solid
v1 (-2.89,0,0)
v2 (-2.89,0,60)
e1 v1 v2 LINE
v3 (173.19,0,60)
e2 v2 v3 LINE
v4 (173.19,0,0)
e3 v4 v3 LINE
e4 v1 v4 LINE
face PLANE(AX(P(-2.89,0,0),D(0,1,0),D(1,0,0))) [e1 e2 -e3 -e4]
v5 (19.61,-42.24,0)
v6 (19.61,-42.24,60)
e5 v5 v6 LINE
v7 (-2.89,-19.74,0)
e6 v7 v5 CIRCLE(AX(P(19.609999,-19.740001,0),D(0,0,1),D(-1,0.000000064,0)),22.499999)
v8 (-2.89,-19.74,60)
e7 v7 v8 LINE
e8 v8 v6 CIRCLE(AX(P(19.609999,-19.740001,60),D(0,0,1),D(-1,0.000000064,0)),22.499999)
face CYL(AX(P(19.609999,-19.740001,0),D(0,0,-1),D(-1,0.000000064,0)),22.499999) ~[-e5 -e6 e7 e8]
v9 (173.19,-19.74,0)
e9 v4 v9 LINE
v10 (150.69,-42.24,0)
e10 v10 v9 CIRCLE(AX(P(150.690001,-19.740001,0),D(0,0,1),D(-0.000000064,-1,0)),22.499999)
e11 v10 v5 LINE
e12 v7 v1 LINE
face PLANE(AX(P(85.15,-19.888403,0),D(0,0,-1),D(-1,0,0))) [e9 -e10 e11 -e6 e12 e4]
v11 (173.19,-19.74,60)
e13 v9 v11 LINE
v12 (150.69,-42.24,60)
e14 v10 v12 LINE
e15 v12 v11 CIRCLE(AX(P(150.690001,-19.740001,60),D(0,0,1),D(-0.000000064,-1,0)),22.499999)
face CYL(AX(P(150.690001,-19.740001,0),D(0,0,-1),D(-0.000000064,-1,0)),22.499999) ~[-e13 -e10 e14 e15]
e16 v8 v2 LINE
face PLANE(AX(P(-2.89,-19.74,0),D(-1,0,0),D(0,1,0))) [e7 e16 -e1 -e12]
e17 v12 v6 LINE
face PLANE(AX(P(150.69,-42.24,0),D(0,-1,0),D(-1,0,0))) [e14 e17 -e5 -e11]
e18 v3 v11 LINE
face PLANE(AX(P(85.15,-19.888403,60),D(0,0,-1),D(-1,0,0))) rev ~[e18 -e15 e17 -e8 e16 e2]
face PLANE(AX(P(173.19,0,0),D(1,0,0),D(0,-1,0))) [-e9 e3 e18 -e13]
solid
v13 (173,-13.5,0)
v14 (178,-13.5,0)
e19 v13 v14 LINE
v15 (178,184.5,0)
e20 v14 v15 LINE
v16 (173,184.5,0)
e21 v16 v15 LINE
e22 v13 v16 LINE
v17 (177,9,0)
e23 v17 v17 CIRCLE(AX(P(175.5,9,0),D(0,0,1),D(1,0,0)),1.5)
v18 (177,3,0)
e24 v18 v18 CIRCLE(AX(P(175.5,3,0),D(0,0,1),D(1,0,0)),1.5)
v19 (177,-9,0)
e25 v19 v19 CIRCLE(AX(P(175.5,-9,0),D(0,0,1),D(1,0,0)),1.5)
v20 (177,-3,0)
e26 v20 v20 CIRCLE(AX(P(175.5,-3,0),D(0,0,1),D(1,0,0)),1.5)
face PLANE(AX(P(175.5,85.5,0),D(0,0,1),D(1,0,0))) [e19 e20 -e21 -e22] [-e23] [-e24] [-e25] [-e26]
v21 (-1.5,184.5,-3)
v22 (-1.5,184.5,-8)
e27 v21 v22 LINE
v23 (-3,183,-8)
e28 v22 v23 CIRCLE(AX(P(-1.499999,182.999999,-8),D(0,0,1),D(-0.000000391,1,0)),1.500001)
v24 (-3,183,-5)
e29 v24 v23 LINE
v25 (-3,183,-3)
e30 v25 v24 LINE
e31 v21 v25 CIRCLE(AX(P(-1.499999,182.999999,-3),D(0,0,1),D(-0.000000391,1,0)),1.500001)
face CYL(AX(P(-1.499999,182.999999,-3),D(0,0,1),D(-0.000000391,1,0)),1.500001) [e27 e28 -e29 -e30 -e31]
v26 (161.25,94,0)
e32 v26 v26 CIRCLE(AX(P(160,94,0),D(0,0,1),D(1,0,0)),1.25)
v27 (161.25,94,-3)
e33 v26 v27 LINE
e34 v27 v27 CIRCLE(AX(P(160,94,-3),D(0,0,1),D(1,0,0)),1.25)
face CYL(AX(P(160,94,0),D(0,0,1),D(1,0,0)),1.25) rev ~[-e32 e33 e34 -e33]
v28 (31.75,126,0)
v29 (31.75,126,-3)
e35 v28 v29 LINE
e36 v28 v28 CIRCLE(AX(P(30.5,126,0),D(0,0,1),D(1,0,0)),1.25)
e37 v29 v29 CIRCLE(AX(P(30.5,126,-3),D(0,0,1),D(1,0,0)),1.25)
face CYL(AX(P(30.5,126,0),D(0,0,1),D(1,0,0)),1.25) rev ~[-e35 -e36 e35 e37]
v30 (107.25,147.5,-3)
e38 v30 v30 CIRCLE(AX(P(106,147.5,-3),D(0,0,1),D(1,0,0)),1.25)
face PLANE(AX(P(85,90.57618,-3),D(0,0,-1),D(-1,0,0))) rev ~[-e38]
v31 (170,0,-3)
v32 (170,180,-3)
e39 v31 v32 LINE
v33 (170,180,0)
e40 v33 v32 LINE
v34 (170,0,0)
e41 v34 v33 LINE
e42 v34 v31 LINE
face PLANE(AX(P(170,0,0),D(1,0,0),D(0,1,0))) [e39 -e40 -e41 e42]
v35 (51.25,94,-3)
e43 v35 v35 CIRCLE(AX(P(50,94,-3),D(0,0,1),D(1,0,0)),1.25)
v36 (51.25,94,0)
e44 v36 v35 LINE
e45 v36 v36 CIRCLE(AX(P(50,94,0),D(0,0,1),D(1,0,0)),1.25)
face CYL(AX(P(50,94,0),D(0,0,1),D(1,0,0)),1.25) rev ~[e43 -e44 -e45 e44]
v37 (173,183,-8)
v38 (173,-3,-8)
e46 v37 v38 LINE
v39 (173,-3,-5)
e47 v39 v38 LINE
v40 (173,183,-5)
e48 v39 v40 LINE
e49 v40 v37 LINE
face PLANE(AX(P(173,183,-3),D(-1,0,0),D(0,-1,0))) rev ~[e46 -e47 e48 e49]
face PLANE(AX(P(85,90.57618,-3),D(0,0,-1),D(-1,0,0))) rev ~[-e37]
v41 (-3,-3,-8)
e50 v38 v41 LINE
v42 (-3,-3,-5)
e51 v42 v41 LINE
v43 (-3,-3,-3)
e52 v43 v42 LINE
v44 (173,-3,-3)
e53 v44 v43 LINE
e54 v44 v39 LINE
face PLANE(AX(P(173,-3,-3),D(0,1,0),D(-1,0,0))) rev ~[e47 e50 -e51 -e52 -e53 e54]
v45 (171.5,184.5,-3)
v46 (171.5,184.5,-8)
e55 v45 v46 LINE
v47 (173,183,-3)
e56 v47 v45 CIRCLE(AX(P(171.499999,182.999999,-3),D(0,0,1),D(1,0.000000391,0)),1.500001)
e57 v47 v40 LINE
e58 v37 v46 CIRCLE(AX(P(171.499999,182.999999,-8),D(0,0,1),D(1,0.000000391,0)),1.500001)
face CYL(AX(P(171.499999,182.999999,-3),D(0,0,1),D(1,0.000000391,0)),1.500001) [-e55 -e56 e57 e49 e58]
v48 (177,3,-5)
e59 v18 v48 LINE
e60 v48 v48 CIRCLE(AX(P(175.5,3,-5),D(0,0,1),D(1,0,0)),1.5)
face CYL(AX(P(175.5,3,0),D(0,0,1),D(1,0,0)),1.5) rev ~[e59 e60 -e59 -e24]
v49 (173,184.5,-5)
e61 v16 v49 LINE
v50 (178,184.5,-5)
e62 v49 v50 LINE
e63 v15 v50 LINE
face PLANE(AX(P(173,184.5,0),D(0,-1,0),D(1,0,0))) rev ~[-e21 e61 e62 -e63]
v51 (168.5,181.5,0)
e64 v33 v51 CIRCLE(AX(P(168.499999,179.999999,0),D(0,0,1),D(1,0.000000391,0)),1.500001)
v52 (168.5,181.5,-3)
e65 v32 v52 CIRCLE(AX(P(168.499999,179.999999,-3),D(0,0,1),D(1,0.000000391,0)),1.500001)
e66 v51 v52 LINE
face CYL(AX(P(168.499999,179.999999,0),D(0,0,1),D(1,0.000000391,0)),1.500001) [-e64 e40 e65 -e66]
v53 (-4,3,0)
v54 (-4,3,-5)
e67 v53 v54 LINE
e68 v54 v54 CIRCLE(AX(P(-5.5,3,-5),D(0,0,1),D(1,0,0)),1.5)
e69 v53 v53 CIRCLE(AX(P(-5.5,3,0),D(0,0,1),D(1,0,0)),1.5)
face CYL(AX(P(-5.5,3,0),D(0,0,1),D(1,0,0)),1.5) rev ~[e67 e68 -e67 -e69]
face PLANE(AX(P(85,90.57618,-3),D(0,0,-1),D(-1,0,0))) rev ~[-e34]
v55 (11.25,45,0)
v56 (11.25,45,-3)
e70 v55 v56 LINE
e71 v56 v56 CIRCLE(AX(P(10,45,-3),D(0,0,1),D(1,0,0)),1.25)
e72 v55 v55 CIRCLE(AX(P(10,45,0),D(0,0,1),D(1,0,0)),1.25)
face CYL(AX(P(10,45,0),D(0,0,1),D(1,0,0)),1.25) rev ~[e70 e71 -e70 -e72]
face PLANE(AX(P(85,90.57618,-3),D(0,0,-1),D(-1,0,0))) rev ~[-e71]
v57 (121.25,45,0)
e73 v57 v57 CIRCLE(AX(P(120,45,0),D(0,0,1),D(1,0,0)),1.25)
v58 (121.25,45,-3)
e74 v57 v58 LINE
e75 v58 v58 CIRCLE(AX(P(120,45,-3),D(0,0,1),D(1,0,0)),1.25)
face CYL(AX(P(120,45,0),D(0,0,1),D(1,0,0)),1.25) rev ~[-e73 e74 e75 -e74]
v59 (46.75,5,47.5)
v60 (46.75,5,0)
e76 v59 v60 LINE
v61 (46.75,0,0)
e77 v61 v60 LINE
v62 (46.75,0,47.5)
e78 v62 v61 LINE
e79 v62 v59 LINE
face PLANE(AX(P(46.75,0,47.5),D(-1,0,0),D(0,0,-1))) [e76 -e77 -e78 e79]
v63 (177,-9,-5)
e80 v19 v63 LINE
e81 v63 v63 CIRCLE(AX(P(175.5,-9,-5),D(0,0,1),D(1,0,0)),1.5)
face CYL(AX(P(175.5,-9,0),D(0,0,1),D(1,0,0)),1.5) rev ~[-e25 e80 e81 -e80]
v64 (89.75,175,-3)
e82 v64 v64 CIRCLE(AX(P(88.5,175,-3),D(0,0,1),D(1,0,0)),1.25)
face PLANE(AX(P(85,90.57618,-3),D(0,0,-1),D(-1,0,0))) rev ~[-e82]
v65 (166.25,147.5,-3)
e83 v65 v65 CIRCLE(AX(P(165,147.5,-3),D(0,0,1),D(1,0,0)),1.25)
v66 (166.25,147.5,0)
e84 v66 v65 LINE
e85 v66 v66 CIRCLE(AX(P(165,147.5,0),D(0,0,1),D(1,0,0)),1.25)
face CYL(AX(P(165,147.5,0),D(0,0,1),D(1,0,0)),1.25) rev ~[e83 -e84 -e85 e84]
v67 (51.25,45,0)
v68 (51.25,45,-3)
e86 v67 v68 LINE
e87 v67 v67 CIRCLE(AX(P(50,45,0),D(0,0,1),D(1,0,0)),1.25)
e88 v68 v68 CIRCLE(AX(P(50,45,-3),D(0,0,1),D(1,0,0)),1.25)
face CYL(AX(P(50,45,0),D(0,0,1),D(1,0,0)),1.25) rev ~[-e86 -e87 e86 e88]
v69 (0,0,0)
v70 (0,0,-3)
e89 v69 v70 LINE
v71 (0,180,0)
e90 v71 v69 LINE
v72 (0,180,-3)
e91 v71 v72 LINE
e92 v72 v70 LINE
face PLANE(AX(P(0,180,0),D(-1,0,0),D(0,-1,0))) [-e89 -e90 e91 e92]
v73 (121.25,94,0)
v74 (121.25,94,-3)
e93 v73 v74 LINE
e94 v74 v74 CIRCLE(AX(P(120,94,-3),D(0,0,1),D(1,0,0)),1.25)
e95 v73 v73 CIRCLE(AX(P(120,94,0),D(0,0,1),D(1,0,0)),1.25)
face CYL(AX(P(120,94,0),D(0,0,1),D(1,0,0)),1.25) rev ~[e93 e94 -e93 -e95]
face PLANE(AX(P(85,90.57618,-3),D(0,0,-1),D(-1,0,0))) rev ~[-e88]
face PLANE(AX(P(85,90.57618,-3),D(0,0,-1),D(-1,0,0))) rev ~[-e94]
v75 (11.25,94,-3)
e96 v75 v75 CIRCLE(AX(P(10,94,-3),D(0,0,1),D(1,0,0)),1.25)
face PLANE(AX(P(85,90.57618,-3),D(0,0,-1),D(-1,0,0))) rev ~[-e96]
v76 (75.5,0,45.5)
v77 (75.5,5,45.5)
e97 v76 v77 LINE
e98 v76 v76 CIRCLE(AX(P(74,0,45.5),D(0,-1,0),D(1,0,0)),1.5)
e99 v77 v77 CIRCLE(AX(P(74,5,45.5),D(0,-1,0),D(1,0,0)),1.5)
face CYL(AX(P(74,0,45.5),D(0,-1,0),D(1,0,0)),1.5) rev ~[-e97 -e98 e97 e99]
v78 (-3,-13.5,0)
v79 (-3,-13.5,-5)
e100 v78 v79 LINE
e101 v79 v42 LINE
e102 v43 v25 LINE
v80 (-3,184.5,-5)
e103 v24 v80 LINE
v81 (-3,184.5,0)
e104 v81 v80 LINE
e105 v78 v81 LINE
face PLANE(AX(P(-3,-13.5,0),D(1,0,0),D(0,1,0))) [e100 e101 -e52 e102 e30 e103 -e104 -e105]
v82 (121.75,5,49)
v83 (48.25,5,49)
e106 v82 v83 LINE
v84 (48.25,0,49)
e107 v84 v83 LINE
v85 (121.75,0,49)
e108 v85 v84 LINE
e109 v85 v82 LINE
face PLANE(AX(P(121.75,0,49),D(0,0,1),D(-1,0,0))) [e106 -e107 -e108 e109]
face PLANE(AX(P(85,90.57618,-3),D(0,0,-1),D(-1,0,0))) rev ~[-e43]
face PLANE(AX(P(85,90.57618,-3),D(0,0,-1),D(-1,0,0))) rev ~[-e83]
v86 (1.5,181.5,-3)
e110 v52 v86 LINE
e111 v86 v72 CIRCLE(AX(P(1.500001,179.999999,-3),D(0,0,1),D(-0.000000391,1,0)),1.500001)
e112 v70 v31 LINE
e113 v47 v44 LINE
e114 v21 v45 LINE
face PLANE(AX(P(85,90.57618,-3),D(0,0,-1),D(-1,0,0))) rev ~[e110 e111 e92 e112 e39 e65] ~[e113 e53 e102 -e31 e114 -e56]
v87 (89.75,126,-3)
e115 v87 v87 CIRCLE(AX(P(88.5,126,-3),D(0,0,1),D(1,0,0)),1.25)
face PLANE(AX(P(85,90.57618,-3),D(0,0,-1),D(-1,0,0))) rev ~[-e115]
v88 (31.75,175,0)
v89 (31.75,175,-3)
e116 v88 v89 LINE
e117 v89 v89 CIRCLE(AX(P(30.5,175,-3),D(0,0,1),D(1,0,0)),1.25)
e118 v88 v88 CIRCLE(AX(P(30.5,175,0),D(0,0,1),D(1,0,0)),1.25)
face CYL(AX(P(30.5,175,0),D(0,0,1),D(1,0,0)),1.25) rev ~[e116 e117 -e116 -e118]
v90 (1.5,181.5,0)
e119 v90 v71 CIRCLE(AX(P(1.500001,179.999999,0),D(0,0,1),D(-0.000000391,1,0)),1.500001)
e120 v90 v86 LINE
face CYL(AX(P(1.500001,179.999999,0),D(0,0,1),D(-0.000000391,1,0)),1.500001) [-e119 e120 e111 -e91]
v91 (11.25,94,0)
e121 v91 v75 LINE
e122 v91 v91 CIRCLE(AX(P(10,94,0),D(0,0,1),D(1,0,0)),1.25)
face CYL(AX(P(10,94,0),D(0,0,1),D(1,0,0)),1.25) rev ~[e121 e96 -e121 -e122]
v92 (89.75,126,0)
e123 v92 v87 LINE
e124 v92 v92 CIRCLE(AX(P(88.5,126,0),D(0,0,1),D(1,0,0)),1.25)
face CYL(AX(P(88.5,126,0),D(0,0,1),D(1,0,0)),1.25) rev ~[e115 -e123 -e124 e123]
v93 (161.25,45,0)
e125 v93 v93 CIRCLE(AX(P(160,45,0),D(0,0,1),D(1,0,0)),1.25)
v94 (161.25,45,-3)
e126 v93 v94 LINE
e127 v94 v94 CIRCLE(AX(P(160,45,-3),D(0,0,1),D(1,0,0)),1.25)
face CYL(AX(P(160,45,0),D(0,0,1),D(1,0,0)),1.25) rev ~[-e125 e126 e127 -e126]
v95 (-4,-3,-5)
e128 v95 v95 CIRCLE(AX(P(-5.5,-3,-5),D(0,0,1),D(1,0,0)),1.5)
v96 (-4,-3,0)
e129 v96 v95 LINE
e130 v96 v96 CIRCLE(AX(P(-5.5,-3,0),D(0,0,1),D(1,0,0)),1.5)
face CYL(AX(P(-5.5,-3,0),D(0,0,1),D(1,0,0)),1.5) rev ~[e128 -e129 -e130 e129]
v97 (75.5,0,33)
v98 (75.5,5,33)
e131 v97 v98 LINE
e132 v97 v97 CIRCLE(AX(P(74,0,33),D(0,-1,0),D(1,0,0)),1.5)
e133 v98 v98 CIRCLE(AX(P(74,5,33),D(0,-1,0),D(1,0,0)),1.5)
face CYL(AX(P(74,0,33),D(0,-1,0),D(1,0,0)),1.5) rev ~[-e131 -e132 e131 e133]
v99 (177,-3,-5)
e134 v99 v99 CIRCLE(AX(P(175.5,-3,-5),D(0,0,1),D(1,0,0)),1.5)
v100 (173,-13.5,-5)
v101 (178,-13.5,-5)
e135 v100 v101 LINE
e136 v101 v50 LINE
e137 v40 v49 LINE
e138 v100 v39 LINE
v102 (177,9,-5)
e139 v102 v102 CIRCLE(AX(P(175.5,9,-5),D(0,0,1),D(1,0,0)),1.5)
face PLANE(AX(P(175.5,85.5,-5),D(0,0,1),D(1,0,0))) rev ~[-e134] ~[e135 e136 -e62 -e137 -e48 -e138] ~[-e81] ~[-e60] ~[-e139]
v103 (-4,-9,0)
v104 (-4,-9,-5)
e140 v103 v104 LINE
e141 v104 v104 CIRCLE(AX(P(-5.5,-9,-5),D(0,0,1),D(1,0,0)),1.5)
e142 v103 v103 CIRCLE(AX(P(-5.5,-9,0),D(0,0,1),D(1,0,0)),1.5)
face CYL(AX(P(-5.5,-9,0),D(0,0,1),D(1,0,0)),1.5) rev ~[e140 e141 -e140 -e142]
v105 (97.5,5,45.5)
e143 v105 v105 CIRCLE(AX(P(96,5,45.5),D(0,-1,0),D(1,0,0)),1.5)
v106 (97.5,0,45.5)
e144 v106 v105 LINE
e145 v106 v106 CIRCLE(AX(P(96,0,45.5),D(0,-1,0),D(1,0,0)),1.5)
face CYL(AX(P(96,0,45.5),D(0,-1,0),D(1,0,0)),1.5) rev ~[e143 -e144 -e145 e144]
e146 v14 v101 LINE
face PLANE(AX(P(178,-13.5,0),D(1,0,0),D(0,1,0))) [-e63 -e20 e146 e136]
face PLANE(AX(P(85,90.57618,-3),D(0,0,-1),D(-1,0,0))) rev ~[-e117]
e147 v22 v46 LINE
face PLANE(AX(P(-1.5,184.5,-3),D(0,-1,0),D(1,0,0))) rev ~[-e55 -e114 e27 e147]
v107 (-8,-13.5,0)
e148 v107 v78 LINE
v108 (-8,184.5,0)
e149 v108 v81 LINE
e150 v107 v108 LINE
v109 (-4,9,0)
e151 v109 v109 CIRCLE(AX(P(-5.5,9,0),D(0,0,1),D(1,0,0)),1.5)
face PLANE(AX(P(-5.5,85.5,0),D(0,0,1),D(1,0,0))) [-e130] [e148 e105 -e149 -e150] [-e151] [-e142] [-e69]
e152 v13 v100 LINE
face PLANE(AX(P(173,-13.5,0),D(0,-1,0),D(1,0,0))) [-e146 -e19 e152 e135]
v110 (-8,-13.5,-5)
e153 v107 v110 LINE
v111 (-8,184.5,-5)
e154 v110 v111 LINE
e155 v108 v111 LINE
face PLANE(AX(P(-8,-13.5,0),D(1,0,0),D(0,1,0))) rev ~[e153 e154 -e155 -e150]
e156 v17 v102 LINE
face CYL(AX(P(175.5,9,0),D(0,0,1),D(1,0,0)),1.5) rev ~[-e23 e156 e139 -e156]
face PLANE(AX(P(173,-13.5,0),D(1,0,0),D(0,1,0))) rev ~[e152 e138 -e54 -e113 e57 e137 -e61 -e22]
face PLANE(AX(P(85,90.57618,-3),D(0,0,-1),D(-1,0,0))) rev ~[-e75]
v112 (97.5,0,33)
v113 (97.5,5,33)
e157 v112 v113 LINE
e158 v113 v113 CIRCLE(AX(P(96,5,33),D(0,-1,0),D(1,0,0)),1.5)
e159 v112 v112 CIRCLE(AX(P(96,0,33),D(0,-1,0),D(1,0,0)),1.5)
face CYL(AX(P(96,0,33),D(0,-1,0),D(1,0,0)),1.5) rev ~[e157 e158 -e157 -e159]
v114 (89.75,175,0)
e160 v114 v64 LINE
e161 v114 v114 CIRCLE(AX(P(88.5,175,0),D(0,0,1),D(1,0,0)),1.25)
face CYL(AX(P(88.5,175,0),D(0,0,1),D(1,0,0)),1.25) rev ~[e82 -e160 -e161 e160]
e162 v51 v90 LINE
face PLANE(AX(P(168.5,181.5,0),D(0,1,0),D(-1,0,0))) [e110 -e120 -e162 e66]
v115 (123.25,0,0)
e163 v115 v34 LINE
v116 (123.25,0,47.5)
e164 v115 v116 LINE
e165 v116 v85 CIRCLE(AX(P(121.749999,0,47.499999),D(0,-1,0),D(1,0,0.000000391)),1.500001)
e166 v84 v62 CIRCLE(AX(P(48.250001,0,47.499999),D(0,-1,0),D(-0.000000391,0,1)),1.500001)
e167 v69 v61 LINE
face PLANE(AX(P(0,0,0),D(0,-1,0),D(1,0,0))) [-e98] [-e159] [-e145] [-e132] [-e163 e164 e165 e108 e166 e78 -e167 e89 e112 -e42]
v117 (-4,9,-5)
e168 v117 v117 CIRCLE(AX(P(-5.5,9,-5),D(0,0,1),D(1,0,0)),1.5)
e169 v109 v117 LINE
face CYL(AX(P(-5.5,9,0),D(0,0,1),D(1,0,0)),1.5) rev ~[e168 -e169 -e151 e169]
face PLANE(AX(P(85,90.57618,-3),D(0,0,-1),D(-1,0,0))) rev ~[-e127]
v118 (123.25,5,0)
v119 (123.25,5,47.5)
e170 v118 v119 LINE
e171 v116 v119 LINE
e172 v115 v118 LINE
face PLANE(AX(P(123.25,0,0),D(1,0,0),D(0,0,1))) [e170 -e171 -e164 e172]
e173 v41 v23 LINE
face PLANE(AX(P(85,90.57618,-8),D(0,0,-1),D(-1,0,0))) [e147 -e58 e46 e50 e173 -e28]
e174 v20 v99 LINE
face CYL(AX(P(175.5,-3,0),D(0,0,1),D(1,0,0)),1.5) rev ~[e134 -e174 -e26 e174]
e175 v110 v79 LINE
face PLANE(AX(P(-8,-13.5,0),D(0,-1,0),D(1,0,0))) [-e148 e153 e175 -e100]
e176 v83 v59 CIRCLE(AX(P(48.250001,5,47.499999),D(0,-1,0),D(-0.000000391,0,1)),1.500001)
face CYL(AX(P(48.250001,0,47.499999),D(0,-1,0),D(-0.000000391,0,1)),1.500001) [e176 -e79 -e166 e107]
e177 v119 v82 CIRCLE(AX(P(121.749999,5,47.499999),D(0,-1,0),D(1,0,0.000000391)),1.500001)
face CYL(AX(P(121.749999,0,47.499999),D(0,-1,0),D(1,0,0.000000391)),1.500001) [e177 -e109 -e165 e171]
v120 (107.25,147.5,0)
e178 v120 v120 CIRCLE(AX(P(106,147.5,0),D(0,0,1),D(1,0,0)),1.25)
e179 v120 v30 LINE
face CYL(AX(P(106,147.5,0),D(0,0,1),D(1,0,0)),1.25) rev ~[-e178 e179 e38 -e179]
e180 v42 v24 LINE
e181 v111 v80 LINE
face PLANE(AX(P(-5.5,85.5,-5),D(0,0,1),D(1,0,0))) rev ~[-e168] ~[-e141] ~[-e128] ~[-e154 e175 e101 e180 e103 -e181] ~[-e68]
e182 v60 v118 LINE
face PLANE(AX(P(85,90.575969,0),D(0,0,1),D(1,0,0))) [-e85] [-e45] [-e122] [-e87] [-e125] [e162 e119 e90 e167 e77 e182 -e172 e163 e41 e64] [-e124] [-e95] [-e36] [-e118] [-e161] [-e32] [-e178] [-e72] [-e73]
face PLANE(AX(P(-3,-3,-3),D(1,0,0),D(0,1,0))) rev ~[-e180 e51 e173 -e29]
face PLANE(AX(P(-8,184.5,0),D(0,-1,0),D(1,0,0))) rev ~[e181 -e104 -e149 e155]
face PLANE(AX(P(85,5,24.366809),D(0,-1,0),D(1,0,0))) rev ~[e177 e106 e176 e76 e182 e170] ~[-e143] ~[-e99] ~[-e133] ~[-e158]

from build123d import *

# Parameters (mm, degrees)
PAD_DEPTH     = 8
SKETCH001_R   = 1.25
HOLE_DEPTH    = 5
HOLE_TIPS_R   = 1.25
PAD001_DEPTH  = 5
SKETCH003_R   = 1.5
HOLE001_DEPTH = 181.501
PAD002_DEPTH  = 5
SKETCH005_W   = 5
SKETCH005_H   = 198
PAD003_DEPTH  = 5
SKETCH006_R   = 1.5
HOLE002_DEPTH = 8.001
PAD004_DEPTH  = 60


with BuildPart() as floor:
    # Sketch → Pad (new body)
    with BuildSketch(Plane.XY):
        with BuildLine():
            Line((0, 0), (170, 0))
            Line((170, 0), (170, 180))
            ThreePointArc((170, 180), (169.56066, 181.06066), (168.5, 181.5))
            Line((168.5, 181.5), (1.5, 181.5))
            ThreePointArc((1.5, 181.5), (0.43934, 181.06066), (0, 180))
            Line((0, 180), (0, 0))
        make_face()
    extrude(amount=-PAD_DEPTH)

    # Sketch001 → Hole (cut)
    with BuildSketch(Plane.XY):
        with Locations((30.5, 175)):
            Circle(SKETCH001_R)
        with Locations((88.5, 175)):
            Circle(SKETCH001_R)
        with Locations((30.5, 126)):
            Circle(SKETCH001_R)
        with Locations((88.5, 126)):
            Circle(SKETCH001_R)
        with Locations((10, 45)):
            Circle(SKETCH001_R)
        with Locations((10, 94)):
            Circle(SKETCH001_R)
        with Locations((50, 94)):
            Circle(SKETCH001_R)
        with Locations((50, 45)):
            Circle(SKETCH001_R)
        with Locations((120, 45)):
            Circle(SKETCH001_R)
        with Locations((160, 45)):
            Circle(SKETCH001_R)
        with Locations((120, 94)):
            Circle(SKETCH001_R)
        with Locations((160, 94)):
            Circle(SKETCH001_R)
        with Locations((106, 147.5)):
            Circle(SKETCH001_R)
        with Locations((165, 147.5)):
            Circle(SKETCH001_R)
    extrude(amount=-HOLE_DEPTH, mode=Mode.SUBTRACT)

    # Hole tips → Hole tip 1 section 0
    with BuildSketch(Plane.XY.offset(-5), mode=Mode.PRIVATE) as hole_tip_1_s0:
        with Locations((30.5, 175)):
            Circle(HOLE_TIPS_R)
    loft([hole_tip_1_s0.sketch, Vertex(30.5, 175, -5.751076)], mode=Mode.SUBTRACT)

    # Hole tips → Hole tip 2 section 0
    with BuildSketch(Plane.XY.offset(-5), mode=Mode.PRIVATE) as hole_tip_2_s0:
        with Locations((88.5, 175)):
            Circle(HOLE_TIPS_R)
    loft([hole_tip_2_s0.sketch, Vertex(88.5, 175, -5.751076)], mode=Mode.SUBTRACT)

    # Hole tips → Hole tip 3 section 0
    with BuildSketch(Plane.XY.offset(-5), mode=Mode.PRIVATE) as hole_tip_3_s0:
        with Locations((30.5, 126)):
            Circle(HOLE_TIPS_R)
    loft([hole_tip_3_s0.sketch, Vertex(30.5, 126, -5.751076)], mode=Mode.SUBTRACT)

    # Hole tips → Hole tip 4 section 0
    with BuildSketch(Plane.XY.offset(-5), mode=Mode.PRIVATE) as hole_tip_4_s0:
        with Locations((88.5, 126)):
            Circle(HOLE_TIPS_R)
    loft([hole_tip_4_s0.sketch, Vertex(88.5, 126, -5.751076)], mode=Mode.SUBTRACT)

    # Hole tips → Hole tip 5 section 0
    with BuildSketch(Plane.XY.offset(-5), mode=Mode.PRIVATE) as hole_tip_5_s0:
        with Locations((10, 45)):
            Circle(HOLE_TIPS_R)
    loft([hole_tip_5_s0.sketch, Vertex(10, 45, -5.751076)], mode=Mode.SUBTRACT)

    # Hole tips → Hole tip 6 section 0
    with BuildSketch(Plane.XY.offset(-5), mode=Mode.PRIVATE) as hole_tip_6_s0:
        with Locations((10, 94)):
            Circle(HOLE_TIPS_R)
    loft([hole_tip_6_s0.sketch, Vertex(10, 94, -5.751076)], mode=Mode.SUBTRACT)

    # Hole tips → Hole tip 7 section 0
    with BuildSketch(Plane.XY.offset(-5), mode=Mode.PRIVATE) as hole_tip_7_s0:
        with Locations((50, 94)):
            Circle(HOLE_TIPS_R)
    loft([hole_tip_7_s0.sketch, Vertex(50, 94, -5.751076)], mode=Mode.SUBTRACT)

    # Hole tips → Hole tip 8 section 0
    with BuildSketch(Plane.XY.offset(-5), mode=Mode.PRIVATE) as hole_tip_8_s0:
        with Locations((50, 45)):
            Circle(HOLE_TIPS_R)
    loft([hole_tip_8_s0.sketch, Vertex(50, 45, -5.751076)], mode=Mode.SUBTRACT)

    # Hole tips → Hole tip 9 section 0
    with BuildSketch(Plane.XY.offset(-5), mode=Mode.PRIVATE) as hole_tip_9_s0:
        with Locations((120, 45)):
            Circle(HOLE_TIPS_R)
    loft([hole_tip_9_s0.sketch, Vertex(120, 45, -5.751076)], mode=Mode.SUBTRACT)

    # Hole tips → Hole tip 10 section 0
    with BuildSketch(Plane.XY.offset(-5), mode=Mode.PRIVATE) as hole_tip_10_s0:
        with Locations((160, 45)):
            Circle(HOLE_TIPS_R)
    loft([hole_tip_10_s0.sketch, Vertex(160, 45, -5.751076)], mode=Mode.SUBTRACT)

    # Hole tips → Hole tip 11 section 0
    with BuildSketch(Plane.XY.offset(-5), mode=Mode.PRIVATE) as hole_tip_11_s0:
        with Locations((120, 94)):
            Circle(HOLE_TIPS_R)
    loft([hole_tip_11_s0.sketch, Vertex(120, 94, -5.751076)], mode=Mode.SUBTRACT)

    # Hole tips → Hole tip 12 section 0
    with BuildSketch(Plane.XY.offset(-5), mode=Mode.PRIVATE) as hole_tip_12_s0:
        with Locations((160, 94)):
            Circle(HOLE_TIPS_R)
    loft([hole_tip_12_s0.sketch, Vertex(160, 94, -5.751076)], mode=Mode.SUBTRACT)

    # Hole tips → Hole tip 13 section 0
    with BuildSketch(Plane.XY.offset(-5), mode=Mode.PRIVATE) as hole_tip_13_s0:
        with Locations((106, 147.5)):
            Circle(HOLE_TIPS_R)
    loft([hole_tip_13_s0.sketch, Vertex(106, 147.5, -5.751076)], mode=Mode.SUBTRACT)

    # Hole tips → Hole tip 14 section 0
    with BuildSketch(Plane.XY.offset(-5), mode=Mode.PRIVATE) as hole_tip_14_s0:
        with Locations((165, 147.5)):
            Circle(HOLE_TIPS_R)
    loft([hole_tip_14_s0.sketch, Vertex(165, 147.5, -5.751076)], mode=Mode.SUBTRACT)

    # Sketch002 → Pad001 (join)
    with BuildSketch(Plane.XZ):
        with BuildLine():
            Line((46.75, 0), (123.25, 0))
            Line((123.25, 0), (123.25, 47.5))
            ThreePointArc((123.25, 47.5), (122.81066, 48.56066), (121.75, 49))
            Line((121.75, 49), (48.25, 49))
            ThreePointArc((48.25, 49), (47.18934, 48.56066), (46.75, 47.5))
            Line((46.75, 47.5), (46.75, 0))
        make_face()
    extrude(amount=-PAD001_DEPTH)

    # Sketch003 → Hole001 (cut, through all)
    with BuildSketch(Plane.XZ):
        with Locations((74, 33)):
            Circle(SKETCH003_R)
        with Locations((96, 33)):
            Circle(SKETCH003_R)
        with Locations((74, 45.5)):
            Circle(SKETCH003_R)
        with Locations((96, 45.5)):
            Circle(SKETCH003_R)
    extrude(amount=-HOLE001_DEPTH, mode=Mode.SUBTRACT)

    # Sketch004 → Pad002 (join)
    with BuildSketch(Plane.XY.offset(-3)):
        with BuildLine():
            Line((-1.5, 184.5), (171.5, 184.5))
            ThreePointArc((173, 183), (172.56066, 184.06066), (171.5, 184.5))
            Line((173, 183), (173, -3))
            Line((173, -3), (-3, -3))
            Line((-3, -3), (-3, 183))
            ThreePointArc((-1.5, 184.5), (-2.56066, 184.06066), (-3, 183))
        make_face()
    extrude(amount=-PAD002_DEPTH)

    # Sketch005 → Pad003 (join)
    with BuildSketch(Plane.XY):
        with Locations((-5.5, 85.5)):
            Rectangle(SKETCH005_W, SKETCH005_H)
        with Locations((175.5, 85.5)):
            Rectangle(SKETCH005_W, SKETCH005_H)
    extrude(amount=-PAD003_DEPTH)

    # Sketch006 → Hole002 (cut, through all)
    with BuildSketch(Plane.XY):
        with Locations((-5.5, -9)):
            Circle(SKETCH006_R)
        with Locations((-5.5, 9)):
            Circle(SKETCH006_R)
        with Locations((-5.5, 3)):
            Circle(SKETCH006_R)
        with Locations((-5.5, -3)):
            Circle(SKETCH006_R)
        with Locations((175.5, -9)):
            Circle(SKETCH006_R)
        with Locations((175.5, -3)):
            Circle(SKETCH006_R)
        with Locations((175.5, 3)):
            Circle(SKETCH006_R)
        with Locations((175.5, 9)):
            Circle(SKETCH006_R)
    extrude(amount=-HOLE002_DEPTH, mode=Mode.SUBTRACT)


with BuildPart() as windscreen:
    # Sketch007 → Pad004 (new body)
    with BuildSketch(Plane.XY):
        with BuildLine():
            Line((-2.89, 0), (173.19, 0))
            Line((173.19, 0), (173.19, -19.74))
            ThreePointArc((150.69, -42.24), (166.599903, -35.649903), (173.19, -19.74))
            Line((150.69, -42.24), (19.61, -42.24))
            ThreePointArc((-2.89, -19.74), (3.700097, -35.649903), (19.61, -42.24))
            Line((-2.89, -19.74), (-2.89, 0))
        make_face()
    extrude(amount=PAD004_DEPTH)


solid = Compound([floor.part, windscreen.part])
